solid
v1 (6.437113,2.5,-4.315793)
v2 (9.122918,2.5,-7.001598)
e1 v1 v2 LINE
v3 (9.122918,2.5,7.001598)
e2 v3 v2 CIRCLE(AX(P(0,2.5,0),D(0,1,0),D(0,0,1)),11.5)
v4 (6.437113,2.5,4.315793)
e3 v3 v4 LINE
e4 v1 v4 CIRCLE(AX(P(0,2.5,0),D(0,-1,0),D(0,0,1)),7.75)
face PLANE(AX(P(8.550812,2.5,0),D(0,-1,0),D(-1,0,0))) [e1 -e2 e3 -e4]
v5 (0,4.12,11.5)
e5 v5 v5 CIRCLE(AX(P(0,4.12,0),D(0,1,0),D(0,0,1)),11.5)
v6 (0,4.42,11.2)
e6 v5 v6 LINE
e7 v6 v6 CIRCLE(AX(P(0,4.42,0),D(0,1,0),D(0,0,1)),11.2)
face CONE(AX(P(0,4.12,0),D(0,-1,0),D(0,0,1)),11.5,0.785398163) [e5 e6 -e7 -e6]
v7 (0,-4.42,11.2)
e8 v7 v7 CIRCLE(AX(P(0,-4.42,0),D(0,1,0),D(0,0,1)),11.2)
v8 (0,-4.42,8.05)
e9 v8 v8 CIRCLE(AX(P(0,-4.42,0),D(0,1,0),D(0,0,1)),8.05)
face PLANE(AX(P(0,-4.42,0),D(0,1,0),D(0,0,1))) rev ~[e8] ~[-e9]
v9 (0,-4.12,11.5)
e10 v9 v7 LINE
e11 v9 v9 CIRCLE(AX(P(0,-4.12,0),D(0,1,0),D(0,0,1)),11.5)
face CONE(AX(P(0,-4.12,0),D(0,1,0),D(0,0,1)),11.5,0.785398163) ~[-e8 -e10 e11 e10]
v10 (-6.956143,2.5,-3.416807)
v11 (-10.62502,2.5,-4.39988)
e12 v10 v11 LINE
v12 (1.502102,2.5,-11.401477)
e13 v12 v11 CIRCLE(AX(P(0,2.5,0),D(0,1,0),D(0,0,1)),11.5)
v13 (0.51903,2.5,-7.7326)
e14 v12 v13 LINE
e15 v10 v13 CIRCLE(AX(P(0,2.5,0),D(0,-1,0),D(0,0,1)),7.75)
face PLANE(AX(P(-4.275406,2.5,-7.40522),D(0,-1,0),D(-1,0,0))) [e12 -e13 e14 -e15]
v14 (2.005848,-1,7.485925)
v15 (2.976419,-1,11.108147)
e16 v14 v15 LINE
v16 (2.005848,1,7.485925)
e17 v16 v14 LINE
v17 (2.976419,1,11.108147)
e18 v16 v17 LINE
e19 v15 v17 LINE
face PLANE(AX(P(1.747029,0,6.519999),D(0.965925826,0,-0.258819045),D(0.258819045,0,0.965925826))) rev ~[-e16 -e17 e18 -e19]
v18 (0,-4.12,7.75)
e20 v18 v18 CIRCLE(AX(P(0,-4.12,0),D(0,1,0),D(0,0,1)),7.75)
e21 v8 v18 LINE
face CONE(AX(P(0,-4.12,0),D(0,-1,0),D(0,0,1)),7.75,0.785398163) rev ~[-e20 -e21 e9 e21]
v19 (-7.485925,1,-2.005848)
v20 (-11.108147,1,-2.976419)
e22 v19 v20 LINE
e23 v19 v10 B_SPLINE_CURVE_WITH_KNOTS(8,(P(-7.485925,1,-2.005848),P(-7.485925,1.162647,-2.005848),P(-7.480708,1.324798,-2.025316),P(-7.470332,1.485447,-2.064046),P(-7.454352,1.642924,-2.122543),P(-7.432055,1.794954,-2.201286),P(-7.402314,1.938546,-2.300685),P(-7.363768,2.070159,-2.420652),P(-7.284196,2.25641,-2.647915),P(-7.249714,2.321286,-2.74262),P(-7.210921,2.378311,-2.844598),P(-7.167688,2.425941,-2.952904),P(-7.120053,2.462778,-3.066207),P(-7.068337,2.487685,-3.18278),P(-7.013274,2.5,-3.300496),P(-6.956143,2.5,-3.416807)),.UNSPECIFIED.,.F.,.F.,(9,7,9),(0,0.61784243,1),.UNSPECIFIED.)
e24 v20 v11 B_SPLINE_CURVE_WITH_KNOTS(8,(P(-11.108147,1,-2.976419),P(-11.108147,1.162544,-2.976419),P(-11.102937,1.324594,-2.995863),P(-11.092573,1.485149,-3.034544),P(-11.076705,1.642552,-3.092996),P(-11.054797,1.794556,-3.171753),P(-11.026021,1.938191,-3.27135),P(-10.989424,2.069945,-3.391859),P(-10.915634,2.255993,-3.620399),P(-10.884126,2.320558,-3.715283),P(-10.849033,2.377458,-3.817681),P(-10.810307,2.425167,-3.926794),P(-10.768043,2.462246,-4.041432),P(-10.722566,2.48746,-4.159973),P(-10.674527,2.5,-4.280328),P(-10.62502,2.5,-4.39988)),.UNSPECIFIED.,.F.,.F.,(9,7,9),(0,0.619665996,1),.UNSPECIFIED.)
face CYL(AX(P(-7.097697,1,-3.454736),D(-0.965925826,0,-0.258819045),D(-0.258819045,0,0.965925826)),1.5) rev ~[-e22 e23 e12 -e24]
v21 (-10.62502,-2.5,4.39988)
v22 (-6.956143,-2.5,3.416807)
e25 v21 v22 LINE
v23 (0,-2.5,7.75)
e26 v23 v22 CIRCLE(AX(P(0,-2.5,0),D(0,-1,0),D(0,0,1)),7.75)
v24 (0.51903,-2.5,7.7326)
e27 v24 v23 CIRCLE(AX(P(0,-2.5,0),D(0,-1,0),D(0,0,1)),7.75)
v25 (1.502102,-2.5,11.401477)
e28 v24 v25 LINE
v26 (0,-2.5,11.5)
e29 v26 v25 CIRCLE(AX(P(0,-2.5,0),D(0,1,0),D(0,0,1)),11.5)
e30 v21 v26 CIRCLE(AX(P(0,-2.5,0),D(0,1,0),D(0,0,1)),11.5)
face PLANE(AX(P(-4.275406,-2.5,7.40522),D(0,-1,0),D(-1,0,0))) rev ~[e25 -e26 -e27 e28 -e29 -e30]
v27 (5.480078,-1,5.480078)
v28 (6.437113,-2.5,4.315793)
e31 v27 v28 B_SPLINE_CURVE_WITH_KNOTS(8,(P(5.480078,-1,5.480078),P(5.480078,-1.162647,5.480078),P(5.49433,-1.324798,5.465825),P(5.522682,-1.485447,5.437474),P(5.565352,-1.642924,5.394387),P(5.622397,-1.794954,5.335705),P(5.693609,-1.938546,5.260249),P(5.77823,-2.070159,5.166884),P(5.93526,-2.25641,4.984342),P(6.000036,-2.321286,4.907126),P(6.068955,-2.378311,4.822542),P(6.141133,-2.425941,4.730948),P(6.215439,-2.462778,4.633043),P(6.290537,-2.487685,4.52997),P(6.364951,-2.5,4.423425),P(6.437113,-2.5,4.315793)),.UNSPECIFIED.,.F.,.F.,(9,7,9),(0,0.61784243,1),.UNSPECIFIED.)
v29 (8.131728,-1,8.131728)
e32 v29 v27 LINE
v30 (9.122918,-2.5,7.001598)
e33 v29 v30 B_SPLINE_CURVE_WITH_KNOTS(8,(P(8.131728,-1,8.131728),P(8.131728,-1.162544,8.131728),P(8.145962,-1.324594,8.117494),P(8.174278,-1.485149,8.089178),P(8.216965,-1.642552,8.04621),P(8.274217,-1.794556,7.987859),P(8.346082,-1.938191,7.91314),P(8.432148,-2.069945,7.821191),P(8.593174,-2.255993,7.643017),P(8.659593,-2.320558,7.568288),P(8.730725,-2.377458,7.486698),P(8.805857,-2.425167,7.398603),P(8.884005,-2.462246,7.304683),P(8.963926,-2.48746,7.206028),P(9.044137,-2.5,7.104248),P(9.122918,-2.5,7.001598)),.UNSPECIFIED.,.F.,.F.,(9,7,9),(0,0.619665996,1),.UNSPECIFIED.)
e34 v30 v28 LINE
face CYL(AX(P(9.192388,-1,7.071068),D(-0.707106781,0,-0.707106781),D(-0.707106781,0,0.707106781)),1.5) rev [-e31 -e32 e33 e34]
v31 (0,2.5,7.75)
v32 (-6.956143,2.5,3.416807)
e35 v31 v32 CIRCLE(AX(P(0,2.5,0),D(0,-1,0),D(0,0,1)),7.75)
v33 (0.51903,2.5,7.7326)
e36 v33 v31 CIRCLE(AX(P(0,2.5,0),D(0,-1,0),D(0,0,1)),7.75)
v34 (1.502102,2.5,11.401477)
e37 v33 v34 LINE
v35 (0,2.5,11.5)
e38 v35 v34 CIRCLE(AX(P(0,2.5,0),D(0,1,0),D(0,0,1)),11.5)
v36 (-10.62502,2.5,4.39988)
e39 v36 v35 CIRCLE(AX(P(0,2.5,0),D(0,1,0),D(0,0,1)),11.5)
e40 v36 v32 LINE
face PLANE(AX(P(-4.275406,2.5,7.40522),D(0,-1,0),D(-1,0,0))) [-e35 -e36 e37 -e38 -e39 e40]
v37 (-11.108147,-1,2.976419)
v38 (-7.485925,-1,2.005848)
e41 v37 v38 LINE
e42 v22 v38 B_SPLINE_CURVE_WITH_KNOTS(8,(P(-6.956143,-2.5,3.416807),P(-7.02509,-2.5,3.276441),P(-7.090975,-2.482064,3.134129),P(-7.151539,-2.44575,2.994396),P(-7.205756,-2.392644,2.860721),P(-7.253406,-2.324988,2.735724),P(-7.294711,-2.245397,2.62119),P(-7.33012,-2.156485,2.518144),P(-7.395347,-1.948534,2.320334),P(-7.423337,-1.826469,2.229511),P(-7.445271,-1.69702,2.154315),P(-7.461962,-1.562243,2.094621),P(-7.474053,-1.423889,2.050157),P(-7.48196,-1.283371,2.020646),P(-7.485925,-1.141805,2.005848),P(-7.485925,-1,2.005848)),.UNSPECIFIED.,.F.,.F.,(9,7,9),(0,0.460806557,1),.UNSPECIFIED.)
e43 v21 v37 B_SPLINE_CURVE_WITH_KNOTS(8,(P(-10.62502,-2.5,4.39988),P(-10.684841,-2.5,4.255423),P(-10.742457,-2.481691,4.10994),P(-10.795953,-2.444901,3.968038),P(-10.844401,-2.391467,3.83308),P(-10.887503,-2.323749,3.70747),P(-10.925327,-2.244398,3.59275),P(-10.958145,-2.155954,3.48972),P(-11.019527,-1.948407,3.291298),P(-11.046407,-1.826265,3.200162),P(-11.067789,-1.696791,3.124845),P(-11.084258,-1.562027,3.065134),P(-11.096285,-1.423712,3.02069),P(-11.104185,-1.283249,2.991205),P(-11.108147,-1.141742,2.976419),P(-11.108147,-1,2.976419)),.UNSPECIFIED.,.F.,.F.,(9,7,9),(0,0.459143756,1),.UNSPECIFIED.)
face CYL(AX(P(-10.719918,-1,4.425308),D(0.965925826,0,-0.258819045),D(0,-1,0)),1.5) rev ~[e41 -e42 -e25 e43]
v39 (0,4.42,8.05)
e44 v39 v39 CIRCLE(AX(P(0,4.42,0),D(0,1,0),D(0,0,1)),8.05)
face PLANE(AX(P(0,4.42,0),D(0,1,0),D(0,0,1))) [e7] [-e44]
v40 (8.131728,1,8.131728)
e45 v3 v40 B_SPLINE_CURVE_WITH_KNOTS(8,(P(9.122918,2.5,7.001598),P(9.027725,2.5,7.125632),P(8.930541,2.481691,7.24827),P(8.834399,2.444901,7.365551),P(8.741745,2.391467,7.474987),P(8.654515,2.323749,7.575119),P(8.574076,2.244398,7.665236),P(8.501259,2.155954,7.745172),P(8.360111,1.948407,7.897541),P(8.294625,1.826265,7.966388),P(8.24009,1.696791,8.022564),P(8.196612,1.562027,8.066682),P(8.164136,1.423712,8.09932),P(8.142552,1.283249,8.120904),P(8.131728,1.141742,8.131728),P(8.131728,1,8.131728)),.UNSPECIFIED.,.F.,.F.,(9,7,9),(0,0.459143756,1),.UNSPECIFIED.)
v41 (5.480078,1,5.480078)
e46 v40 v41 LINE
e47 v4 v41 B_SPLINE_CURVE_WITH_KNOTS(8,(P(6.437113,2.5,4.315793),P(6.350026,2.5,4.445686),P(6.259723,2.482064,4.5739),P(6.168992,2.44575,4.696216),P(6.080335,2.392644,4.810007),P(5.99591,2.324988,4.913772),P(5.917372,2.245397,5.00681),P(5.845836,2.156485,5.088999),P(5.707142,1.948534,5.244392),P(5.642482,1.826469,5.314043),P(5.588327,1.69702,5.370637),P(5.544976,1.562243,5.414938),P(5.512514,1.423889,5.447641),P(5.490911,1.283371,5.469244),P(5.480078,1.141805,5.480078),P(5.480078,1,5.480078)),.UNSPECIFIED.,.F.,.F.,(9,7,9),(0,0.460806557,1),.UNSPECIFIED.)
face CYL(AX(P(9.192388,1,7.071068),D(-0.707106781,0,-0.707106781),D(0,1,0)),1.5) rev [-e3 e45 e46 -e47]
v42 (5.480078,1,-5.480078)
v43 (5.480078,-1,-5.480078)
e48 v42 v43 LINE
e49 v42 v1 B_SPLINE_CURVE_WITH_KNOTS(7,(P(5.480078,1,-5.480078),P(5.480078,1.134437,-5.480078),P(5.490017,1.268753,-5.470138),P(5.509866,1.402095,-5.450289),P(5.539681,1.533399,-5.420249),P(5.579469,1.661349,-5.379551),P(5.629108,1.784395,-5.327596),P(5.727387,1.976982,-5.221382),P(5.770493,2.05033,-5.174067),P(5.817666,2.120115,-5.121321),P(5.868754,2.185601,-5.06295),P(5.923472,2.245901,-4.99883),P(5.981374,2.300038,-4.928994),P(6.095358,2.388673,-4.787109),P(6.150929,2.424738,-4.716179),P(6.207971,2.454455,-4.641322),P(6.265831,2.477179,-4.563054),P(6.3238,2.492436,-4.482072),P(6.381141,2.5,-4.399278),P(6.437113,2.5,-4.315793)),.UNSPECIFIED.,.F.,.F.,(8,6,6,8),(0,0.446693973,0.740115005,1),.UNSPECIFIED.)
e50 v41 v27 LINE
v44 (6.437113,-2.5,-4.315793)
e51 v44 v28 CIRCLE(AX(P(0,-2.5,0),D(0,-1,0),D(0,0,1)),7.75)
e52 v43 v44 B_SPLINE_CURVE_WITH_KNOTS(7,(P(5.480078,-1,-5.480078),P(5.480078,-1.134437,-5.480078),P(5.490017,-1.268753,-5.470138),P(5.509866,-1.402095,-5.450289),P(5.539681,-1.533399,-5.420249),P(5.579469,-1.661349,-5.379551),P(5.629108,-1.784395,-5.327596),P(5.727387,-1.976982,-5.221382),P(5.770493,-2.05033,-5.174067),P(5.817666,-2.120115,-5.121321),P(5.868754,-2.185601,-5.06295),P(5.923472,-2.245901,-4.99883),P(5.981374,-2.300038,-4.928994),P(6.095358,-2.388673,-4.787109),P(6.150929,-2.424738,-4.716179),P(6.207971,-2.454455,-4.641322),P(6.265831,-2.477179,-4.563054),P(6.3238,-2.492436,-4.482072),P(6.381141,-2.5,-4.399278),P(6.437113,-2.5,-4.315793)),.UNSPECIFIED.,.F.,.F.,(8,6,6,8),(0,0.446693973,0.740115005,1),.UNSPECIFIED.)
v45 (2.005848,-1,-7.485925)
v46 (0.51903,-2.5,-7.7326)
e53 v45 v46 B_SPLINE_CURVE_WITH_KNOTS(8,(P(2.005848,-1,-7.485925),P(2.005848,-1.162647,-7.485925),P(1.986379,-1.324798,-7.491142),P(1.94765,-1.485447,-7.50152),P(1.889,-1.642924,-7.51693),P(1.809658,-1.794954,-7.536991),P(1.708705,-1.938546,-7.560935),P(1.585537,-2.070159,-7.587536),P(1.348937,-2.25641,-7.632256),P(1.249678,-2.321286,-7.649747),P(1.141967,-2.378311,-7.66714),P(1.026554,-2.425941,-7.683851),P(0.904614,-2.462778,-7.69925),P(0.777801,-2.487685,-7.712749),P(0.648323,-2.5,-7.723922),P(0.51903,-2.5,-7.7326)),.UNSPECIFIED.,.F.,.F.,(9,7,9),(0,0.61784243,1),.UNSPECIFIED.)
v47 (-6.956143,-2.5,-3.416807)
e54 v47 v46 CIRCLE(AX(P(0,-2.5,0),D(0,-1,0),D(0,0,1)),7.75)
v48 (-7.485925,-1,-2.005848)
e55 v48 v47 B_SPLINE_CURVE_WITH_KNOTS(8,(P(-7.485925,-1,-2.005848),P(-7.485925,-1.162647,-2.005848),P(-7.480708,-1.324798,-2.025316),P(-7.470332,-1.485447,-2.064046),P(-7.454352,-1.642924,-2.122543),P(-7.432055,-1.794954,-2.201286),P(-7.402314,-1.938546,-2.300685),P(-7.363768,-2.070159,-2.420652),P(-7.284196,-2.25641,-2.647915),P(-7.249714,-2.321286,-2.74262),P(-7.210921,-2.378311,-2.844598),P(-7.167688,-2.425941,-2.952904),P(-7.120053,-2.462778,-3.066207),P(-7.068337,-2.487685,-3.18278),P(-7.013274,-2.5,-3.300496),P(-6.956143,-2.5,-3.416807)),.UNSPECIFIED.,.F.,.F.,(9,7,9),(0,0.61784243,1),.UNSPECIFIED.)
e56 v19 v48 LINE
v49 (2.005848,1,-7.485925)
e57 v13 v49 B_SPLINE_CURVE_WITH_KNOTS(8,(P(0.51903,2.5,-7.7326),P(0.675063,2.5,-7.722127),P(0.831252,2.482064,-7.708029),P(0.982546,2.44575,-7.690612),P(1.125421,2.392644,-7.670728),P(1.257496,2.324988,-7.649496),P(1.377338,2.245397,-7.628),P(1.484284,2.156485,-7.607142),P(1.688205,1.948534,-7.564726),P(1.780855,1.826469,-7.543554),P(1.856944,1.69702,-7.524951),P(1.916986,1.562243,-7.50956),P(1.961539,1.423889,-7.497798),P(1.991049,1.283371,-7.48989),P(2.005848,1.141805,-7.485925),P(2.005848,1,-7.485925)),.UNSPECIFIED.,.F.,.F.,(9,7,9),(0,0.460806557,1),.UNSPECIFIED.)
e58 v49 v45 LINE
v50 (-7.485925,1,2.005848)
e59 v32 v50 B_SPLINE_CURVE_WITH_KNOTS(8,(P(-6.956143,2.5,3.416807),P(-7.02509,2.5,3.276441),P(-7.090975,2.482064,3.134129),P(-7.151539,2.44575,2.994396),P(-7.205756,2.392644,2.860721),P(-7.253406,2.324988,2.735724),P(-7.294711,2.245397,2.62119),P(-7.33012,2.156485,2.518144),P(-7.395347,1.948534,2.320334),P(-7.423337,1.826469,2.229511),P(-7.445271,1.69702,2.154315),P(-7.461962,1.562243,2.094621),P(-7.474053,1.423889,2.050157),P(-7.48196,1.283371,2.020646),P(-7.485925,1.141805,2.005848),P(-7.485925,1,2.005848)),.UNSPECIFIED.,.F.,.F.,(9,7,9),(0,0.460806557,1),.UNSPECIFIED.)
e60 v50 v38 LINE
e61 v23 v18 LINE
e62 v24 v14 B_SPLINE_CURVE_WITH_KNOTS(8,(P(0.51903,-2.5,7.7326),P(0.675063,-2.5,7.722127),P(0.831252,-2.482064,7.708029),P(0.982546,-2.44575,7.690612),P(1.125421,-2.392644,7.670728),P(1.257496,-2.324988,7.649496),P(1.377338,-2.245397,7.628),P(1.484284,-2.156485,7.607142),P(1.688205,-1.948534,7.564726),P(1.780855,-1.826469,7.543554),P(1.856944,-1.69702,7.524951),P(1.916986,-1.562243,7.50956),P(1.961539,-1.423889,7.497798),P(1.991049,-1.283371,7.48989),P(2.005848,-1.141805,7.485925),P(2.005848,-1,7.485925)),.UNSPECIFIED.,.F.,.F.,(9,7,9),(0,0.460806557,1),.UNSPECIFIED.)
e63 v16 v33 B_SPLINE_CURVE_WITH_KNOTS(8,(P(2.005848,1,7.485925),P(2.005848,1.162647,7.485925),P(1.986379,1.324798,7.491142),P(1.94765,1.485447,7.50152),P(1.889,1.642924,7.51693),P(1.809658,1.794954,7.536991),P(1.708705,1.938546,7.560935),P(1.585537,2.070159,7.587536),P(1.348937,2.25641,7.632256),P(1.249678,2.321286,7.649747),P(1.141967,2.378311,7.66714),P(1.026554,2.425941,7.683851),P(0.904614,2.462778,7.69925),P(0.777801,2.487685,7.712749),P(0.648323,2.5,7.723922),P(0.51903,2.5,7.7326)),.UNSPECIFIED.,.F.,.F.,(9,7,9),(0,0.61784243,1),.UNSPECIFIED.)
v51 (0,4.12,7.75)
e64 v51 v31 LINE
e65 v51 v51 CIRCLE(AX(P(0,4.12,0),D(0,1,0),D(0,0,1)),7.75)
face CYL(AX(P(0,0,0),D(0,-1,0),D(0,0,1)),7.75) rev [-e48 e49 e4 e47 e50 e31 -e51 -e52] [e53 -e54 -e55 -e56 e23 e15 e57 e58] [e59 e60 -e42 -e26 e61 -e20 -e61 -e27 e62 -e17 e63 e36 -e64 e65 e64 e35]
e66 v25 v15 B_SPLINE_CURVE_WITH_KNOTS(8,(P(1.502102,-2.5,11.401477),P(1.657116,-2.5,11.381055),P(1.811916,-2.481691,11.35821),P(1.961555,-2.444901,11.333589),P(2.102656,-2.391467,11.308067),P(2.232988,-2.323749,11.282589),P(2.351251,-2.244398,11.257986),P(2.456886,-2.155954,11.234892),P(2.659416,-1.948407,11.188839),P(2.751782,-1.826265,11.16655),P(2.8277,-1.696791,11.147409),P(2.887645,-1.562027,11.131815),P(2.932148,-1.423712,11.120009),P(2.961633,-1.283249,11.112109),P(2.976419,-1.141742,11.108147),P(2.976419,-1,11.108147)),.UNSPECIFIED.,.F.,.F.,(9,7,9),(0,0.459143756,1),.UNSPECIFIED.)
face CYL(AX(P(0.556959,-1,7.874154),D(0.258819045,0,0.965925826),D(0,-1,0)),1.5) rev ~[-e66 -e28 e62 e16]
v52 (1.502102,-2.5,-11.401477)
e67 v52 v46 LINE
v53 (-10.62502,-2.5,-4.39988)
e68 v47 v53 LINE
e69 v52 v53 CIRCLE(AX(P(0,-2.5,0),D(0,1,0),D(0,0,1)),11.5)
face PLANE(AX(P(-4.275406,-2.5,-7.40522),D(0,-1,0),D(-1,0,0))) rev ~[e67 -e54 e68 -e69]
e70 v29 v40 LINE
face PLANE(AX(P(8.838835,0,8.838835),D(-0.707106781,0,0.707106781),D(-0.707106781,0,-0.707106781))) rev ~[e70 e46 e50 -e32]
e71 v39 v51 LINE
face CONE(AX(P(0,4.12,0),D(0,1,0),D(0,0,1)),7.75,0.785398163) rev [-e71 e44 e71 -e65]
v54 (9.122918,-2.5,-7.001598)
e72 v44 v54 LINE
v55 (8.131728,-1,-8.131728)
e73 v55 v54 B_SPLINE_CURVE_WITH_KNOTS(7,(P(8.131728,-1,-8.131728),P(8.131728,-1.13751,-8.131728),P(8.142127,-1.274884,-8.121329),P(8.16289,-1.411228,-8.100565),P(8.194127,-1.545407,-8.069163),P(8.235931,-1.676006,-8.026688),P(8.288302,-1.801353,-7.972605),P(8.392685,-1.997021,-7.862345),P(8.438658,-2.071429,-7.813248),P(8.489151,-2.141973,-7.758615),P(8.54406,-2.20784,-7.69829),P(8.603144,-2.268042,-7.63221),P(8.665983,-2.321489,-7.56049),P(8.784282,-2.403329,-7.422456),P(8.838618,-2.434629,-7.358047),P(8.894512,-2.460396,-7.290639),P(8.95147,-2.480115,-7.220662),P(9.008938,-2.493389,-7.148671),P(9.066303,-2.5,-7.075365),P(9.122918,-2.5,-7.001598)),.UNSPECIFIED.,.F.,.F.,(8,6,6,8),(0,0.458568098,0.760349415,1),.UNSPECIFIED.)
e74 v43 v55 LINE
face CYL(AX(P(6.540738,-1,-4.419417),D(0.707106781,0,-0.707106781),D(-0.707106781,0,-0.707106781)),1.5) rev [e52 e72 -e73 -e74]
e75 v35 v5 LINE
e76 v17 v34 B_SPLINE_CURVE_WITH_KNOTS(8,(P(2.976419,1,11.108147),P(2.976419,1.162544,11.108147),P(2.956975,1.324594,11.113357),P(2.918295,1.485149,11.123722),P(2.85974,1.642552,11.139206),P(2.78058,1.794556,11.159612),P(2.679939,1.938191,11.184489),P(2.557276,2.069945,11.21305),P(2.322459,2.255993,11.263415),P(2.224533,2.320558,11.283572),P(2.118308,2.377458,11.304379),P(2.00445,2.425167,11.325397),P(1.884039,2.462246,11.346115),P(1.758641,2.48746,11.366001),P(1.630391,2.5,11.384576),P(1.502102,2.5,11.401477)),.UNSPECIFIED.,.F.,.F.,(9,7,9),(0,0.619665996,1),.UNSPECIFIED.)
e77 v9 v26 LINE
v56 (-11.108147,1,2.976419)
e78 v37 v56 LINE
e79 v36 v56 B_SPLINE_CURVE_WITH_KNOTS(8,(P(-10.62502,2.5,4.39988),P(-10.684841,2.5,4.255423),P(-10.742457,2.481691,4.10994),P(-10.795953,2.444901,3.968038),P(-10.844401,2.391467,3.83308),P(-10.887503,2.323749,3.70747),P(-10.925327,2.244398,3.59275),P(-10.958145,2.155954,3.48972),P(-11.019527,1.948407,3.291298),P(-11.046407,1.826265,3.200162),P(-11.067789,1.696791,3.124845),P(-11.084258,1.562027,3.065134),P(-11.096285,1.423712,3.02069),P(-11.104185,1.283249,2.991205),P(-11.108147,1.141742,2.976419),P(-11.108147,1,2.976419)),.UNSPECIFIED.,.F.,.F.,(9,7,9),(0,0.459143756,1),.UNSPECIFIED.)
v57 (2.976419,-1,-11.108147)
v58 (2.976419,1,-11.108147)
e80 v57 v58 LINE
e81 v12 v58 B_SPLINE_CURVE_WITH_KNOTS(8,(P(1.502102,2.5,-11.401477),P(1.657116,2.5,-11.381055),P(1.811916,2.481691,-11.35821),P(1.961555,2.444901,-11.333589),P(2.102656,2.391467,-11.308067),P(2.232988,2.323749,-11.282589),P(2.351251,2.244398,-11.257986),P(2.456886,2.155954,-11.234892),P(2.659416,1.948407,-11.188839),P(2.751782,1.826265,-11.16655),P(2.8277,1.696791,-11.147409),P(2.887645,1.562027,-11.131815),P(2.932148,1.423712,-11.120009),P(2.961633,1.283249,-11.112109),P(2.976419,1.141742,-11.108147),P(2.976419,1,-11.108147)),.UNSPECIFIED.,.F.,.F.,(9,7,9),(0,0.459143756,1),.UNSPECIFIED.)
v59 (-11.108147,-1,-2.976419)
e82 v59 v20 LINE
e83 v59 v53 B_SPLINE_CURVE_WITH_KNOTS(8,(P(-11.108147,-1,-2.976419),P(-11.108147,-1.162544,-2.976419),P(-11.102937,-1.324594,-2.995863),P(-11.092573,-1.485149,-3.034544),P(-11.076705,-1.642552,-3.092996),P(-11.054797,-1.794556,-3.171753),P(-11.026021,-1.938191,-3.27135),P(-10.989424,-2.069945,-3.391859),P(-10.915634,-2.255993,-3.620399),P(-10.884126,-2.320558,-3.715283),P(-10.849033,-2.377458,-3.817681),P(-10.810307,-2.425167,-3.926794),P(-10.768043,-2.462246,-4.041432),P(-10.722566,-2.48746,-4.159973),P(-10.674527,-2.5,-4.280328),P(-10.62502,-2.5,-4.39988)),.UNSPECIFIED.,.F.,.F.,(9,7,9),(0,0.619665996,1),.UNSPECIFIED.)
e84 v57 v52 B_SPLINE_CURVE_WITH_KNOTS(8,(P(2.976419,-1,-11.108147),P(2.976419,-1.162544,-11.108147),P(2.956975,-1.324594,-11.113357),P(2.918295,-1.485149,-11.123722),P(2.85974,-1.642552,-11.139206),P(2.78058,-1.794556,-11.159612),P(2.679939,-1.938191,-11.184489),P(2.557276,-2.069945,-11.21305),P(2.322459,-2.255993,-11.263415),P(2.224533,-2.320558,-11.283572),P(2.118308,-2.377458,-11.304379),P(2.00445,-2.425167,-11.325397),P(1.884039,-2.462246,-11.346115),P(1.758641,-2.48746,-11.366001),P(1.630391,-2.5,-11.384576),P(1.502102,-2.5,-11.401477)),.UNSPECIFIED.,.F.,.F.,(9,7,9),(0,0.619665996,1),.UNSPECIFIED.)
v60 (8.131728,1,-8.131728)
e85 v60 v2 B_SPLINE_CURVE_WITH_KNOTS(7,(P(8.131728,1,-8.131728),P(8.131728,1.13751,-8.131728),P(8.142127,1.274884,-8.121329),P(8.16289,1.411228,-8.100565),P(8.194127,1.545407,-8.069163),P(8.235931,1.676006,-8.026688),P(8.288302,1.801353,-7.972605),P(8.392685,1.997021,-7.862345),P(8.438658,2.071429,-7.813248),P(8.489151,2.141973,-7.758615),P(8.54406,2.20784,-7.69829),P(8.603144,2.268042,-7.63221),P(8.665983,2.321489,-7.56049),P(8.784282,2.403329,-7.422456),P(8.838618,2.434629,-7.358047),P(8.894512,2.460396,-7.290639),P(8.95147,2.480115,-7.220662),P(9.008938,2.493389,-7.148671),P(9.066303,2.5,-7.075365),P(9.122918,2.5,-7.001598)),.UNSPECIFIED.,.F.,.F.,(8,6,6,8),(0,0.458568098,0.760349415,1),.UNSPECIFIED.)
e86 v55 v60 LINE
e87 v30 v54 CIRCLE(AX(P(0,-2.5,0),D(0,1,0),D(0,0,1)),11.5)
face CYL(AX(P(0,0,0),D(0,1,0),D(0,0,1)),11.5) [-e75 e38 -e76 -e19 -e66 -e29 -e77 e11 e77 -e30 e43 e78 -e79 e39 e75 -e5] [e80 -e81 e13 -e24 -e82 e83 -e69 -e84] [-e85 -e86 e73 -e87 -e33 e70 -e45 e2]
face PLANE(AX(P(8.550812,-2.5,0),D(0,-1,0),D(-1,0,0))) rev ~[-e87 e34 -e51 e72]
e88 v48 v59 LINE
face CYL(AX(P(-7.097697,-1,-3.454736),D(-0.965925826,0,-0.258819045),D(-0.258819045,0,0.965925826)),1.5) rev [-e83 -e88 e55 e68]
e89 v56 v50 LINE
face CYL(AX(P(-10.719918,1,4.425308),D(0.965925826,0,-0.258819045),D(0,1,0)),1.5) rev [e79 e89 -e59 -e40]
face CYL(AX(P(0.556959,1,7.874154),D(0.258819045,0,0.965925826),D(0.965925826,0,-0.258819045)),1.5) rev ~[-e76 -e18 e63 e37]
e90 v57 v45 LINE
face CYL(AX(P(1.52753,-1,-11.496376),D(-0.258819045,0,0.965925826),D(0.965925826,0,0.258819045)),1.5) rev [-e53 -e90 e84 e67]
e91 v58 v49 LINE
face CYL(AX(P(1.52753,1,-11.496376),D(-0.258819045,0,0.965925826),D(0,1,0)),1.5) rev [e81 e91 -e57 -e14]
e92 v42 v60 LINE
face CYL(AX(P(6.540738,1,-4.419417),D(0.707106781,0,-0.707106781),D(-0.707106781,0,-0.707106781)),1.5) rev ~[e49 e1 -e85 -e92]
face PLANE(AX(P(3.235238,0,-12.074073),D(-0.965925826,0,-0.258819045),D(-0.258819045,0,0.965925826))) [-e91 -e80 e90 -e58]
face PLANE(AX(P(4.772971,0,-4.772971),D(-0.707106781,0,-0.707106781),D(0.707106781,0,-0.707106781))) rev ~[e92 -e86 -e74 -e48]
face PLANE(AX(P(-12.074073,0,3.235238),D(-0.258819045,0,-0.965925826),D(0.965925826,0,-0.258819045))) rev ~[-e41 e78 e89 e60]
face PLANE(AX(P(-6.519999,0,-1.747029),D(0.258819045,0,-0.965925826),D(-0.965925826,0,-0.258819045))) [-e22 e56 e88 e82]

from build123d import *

# Parameters (mm, degrees)
SKETCH1_R           = 11.5
SKETCH1_R_2         = 7.75
BOSS_EXTRUDE1_DEPTH = 4.42
CUT_EXTRUDE1_DEPTH  = 2.5
FILLET1_R           = 1.5
CHAMFER1_SIZE       = 0.3


with BuildPart() as part:
    # Sketch1 → Boss-Extrude1 (new, symmetric)
    with BuildSketch(Plane(origin=(0, 0, 0), x_dir=(1, 0, 0), z_dir=(0, 1, 0))):
        with Locations(Location((0, 0, 0), (0, 0, 270))):
            Circle(SKETCH1_R)
        with Locations(Location((0, 0, 0), (0, 0, 270))):
            Circle(SKETCH1_R_2, mode=Mode.SUBTRACT)
    extrude(amount=BOSS_EXTRUDE1_DEPTH, both=True)

    # Sketch2 → Cut-Extrude1 (cut, symmetric)
    with BuildSketch(Plane(origin=(0, 0, 0), x_dir=(1, 0, 0), z_dir=(0, 1, 0))):
        with BuildLine():
            Line((4.772970773, 4.772970773), (8.838834765, 8.838834765))
            ThreePointArc((8.838834765, 8.838834765), (12.5, 0), (8.838834765, -8.838834765))
            Line((8.838834765, -8.838834765), (4.772970773, -4.772970773))
            ThreePointArc((4.772970773, -4.772970773), (6.75, 0), (4.772970773, 4.772970773))
        make_face()
        with BuildLine():
            Line((1.747028554, -6.519999327), (3.235238064, -12.074072829))
            ThreePointArc((3.235238064, -12.074072829), (-6.25, -10.825317547), (-12.074072829, -3.235238064))
            Line((-12.074072829, -3.235238064), (-6.519999327, -1.747028554))
            ThreePointArc((-6.519999327, -1.747028554), (-3.375, -5.845671476), (1.747028554, -6.519999327))
        make_face()
        with BuildLine():
            Line((-6.519999327, 1.747028554), (-12.074072829, 3.235238064))
            ThreePointArc((-12.074072829, 3.235238064), (-6.25, 10.825317547), (3.235238064, 12.074072829))
            Line((3.235238064, 12.074072829), (1.747028554, 6.519999327))
            ThreePointArc((1.747028554, 6.519999327), (-3.375, 5.845671476), (-6.519999327, 1.747028554))
        make_face()
    extrude(amount=CUT_EXTRUDE1_DEPTH, both=True, mode=Mode.SUBTRACT)

    # Fillet1
    fillet1_edges = [part.edges().sort_by_distance(p)[0] for p in [
        (6.805902769, -2.5, -6.805902769),
        (6.805902769, -2.5, 6.805902769),
        (6.805902769, 2.5, -6.805902769),
        (6.805902769, 2.5, 6.805902769),
        (2.491133309, -2.5, 9.297036078),
        (-9.297036078, -2.5, 2.491133309),
        (2.491133309, 2.5, 9.297036078),
        (-9.297036078, 2.5, 2.491133309),
        (-9.297036078, -2.5, -2.491133309),
        (2.491133309, -2.5, -9.297036078),
        (-9.297036078, 2.5, -2.491133309),
        (2.491133309, 2.5, -9.297036078),
    ]]
    fillet(fillet1_edges, radius=FILLET1_R)

    # Chamfer1
    chamfer1_edges = [part.edges().sort_by_distance(p)[0] for p in [
        (0, -4.42, -11.5),
        (0, 4.42, -11.5),
        (0, -4.42, -7.75),
        (0, 4.42, -7.75),
    ]]
    chamfer(chamfer1_edges, length=CHAMFER1_SIZE)


solid = part.part
